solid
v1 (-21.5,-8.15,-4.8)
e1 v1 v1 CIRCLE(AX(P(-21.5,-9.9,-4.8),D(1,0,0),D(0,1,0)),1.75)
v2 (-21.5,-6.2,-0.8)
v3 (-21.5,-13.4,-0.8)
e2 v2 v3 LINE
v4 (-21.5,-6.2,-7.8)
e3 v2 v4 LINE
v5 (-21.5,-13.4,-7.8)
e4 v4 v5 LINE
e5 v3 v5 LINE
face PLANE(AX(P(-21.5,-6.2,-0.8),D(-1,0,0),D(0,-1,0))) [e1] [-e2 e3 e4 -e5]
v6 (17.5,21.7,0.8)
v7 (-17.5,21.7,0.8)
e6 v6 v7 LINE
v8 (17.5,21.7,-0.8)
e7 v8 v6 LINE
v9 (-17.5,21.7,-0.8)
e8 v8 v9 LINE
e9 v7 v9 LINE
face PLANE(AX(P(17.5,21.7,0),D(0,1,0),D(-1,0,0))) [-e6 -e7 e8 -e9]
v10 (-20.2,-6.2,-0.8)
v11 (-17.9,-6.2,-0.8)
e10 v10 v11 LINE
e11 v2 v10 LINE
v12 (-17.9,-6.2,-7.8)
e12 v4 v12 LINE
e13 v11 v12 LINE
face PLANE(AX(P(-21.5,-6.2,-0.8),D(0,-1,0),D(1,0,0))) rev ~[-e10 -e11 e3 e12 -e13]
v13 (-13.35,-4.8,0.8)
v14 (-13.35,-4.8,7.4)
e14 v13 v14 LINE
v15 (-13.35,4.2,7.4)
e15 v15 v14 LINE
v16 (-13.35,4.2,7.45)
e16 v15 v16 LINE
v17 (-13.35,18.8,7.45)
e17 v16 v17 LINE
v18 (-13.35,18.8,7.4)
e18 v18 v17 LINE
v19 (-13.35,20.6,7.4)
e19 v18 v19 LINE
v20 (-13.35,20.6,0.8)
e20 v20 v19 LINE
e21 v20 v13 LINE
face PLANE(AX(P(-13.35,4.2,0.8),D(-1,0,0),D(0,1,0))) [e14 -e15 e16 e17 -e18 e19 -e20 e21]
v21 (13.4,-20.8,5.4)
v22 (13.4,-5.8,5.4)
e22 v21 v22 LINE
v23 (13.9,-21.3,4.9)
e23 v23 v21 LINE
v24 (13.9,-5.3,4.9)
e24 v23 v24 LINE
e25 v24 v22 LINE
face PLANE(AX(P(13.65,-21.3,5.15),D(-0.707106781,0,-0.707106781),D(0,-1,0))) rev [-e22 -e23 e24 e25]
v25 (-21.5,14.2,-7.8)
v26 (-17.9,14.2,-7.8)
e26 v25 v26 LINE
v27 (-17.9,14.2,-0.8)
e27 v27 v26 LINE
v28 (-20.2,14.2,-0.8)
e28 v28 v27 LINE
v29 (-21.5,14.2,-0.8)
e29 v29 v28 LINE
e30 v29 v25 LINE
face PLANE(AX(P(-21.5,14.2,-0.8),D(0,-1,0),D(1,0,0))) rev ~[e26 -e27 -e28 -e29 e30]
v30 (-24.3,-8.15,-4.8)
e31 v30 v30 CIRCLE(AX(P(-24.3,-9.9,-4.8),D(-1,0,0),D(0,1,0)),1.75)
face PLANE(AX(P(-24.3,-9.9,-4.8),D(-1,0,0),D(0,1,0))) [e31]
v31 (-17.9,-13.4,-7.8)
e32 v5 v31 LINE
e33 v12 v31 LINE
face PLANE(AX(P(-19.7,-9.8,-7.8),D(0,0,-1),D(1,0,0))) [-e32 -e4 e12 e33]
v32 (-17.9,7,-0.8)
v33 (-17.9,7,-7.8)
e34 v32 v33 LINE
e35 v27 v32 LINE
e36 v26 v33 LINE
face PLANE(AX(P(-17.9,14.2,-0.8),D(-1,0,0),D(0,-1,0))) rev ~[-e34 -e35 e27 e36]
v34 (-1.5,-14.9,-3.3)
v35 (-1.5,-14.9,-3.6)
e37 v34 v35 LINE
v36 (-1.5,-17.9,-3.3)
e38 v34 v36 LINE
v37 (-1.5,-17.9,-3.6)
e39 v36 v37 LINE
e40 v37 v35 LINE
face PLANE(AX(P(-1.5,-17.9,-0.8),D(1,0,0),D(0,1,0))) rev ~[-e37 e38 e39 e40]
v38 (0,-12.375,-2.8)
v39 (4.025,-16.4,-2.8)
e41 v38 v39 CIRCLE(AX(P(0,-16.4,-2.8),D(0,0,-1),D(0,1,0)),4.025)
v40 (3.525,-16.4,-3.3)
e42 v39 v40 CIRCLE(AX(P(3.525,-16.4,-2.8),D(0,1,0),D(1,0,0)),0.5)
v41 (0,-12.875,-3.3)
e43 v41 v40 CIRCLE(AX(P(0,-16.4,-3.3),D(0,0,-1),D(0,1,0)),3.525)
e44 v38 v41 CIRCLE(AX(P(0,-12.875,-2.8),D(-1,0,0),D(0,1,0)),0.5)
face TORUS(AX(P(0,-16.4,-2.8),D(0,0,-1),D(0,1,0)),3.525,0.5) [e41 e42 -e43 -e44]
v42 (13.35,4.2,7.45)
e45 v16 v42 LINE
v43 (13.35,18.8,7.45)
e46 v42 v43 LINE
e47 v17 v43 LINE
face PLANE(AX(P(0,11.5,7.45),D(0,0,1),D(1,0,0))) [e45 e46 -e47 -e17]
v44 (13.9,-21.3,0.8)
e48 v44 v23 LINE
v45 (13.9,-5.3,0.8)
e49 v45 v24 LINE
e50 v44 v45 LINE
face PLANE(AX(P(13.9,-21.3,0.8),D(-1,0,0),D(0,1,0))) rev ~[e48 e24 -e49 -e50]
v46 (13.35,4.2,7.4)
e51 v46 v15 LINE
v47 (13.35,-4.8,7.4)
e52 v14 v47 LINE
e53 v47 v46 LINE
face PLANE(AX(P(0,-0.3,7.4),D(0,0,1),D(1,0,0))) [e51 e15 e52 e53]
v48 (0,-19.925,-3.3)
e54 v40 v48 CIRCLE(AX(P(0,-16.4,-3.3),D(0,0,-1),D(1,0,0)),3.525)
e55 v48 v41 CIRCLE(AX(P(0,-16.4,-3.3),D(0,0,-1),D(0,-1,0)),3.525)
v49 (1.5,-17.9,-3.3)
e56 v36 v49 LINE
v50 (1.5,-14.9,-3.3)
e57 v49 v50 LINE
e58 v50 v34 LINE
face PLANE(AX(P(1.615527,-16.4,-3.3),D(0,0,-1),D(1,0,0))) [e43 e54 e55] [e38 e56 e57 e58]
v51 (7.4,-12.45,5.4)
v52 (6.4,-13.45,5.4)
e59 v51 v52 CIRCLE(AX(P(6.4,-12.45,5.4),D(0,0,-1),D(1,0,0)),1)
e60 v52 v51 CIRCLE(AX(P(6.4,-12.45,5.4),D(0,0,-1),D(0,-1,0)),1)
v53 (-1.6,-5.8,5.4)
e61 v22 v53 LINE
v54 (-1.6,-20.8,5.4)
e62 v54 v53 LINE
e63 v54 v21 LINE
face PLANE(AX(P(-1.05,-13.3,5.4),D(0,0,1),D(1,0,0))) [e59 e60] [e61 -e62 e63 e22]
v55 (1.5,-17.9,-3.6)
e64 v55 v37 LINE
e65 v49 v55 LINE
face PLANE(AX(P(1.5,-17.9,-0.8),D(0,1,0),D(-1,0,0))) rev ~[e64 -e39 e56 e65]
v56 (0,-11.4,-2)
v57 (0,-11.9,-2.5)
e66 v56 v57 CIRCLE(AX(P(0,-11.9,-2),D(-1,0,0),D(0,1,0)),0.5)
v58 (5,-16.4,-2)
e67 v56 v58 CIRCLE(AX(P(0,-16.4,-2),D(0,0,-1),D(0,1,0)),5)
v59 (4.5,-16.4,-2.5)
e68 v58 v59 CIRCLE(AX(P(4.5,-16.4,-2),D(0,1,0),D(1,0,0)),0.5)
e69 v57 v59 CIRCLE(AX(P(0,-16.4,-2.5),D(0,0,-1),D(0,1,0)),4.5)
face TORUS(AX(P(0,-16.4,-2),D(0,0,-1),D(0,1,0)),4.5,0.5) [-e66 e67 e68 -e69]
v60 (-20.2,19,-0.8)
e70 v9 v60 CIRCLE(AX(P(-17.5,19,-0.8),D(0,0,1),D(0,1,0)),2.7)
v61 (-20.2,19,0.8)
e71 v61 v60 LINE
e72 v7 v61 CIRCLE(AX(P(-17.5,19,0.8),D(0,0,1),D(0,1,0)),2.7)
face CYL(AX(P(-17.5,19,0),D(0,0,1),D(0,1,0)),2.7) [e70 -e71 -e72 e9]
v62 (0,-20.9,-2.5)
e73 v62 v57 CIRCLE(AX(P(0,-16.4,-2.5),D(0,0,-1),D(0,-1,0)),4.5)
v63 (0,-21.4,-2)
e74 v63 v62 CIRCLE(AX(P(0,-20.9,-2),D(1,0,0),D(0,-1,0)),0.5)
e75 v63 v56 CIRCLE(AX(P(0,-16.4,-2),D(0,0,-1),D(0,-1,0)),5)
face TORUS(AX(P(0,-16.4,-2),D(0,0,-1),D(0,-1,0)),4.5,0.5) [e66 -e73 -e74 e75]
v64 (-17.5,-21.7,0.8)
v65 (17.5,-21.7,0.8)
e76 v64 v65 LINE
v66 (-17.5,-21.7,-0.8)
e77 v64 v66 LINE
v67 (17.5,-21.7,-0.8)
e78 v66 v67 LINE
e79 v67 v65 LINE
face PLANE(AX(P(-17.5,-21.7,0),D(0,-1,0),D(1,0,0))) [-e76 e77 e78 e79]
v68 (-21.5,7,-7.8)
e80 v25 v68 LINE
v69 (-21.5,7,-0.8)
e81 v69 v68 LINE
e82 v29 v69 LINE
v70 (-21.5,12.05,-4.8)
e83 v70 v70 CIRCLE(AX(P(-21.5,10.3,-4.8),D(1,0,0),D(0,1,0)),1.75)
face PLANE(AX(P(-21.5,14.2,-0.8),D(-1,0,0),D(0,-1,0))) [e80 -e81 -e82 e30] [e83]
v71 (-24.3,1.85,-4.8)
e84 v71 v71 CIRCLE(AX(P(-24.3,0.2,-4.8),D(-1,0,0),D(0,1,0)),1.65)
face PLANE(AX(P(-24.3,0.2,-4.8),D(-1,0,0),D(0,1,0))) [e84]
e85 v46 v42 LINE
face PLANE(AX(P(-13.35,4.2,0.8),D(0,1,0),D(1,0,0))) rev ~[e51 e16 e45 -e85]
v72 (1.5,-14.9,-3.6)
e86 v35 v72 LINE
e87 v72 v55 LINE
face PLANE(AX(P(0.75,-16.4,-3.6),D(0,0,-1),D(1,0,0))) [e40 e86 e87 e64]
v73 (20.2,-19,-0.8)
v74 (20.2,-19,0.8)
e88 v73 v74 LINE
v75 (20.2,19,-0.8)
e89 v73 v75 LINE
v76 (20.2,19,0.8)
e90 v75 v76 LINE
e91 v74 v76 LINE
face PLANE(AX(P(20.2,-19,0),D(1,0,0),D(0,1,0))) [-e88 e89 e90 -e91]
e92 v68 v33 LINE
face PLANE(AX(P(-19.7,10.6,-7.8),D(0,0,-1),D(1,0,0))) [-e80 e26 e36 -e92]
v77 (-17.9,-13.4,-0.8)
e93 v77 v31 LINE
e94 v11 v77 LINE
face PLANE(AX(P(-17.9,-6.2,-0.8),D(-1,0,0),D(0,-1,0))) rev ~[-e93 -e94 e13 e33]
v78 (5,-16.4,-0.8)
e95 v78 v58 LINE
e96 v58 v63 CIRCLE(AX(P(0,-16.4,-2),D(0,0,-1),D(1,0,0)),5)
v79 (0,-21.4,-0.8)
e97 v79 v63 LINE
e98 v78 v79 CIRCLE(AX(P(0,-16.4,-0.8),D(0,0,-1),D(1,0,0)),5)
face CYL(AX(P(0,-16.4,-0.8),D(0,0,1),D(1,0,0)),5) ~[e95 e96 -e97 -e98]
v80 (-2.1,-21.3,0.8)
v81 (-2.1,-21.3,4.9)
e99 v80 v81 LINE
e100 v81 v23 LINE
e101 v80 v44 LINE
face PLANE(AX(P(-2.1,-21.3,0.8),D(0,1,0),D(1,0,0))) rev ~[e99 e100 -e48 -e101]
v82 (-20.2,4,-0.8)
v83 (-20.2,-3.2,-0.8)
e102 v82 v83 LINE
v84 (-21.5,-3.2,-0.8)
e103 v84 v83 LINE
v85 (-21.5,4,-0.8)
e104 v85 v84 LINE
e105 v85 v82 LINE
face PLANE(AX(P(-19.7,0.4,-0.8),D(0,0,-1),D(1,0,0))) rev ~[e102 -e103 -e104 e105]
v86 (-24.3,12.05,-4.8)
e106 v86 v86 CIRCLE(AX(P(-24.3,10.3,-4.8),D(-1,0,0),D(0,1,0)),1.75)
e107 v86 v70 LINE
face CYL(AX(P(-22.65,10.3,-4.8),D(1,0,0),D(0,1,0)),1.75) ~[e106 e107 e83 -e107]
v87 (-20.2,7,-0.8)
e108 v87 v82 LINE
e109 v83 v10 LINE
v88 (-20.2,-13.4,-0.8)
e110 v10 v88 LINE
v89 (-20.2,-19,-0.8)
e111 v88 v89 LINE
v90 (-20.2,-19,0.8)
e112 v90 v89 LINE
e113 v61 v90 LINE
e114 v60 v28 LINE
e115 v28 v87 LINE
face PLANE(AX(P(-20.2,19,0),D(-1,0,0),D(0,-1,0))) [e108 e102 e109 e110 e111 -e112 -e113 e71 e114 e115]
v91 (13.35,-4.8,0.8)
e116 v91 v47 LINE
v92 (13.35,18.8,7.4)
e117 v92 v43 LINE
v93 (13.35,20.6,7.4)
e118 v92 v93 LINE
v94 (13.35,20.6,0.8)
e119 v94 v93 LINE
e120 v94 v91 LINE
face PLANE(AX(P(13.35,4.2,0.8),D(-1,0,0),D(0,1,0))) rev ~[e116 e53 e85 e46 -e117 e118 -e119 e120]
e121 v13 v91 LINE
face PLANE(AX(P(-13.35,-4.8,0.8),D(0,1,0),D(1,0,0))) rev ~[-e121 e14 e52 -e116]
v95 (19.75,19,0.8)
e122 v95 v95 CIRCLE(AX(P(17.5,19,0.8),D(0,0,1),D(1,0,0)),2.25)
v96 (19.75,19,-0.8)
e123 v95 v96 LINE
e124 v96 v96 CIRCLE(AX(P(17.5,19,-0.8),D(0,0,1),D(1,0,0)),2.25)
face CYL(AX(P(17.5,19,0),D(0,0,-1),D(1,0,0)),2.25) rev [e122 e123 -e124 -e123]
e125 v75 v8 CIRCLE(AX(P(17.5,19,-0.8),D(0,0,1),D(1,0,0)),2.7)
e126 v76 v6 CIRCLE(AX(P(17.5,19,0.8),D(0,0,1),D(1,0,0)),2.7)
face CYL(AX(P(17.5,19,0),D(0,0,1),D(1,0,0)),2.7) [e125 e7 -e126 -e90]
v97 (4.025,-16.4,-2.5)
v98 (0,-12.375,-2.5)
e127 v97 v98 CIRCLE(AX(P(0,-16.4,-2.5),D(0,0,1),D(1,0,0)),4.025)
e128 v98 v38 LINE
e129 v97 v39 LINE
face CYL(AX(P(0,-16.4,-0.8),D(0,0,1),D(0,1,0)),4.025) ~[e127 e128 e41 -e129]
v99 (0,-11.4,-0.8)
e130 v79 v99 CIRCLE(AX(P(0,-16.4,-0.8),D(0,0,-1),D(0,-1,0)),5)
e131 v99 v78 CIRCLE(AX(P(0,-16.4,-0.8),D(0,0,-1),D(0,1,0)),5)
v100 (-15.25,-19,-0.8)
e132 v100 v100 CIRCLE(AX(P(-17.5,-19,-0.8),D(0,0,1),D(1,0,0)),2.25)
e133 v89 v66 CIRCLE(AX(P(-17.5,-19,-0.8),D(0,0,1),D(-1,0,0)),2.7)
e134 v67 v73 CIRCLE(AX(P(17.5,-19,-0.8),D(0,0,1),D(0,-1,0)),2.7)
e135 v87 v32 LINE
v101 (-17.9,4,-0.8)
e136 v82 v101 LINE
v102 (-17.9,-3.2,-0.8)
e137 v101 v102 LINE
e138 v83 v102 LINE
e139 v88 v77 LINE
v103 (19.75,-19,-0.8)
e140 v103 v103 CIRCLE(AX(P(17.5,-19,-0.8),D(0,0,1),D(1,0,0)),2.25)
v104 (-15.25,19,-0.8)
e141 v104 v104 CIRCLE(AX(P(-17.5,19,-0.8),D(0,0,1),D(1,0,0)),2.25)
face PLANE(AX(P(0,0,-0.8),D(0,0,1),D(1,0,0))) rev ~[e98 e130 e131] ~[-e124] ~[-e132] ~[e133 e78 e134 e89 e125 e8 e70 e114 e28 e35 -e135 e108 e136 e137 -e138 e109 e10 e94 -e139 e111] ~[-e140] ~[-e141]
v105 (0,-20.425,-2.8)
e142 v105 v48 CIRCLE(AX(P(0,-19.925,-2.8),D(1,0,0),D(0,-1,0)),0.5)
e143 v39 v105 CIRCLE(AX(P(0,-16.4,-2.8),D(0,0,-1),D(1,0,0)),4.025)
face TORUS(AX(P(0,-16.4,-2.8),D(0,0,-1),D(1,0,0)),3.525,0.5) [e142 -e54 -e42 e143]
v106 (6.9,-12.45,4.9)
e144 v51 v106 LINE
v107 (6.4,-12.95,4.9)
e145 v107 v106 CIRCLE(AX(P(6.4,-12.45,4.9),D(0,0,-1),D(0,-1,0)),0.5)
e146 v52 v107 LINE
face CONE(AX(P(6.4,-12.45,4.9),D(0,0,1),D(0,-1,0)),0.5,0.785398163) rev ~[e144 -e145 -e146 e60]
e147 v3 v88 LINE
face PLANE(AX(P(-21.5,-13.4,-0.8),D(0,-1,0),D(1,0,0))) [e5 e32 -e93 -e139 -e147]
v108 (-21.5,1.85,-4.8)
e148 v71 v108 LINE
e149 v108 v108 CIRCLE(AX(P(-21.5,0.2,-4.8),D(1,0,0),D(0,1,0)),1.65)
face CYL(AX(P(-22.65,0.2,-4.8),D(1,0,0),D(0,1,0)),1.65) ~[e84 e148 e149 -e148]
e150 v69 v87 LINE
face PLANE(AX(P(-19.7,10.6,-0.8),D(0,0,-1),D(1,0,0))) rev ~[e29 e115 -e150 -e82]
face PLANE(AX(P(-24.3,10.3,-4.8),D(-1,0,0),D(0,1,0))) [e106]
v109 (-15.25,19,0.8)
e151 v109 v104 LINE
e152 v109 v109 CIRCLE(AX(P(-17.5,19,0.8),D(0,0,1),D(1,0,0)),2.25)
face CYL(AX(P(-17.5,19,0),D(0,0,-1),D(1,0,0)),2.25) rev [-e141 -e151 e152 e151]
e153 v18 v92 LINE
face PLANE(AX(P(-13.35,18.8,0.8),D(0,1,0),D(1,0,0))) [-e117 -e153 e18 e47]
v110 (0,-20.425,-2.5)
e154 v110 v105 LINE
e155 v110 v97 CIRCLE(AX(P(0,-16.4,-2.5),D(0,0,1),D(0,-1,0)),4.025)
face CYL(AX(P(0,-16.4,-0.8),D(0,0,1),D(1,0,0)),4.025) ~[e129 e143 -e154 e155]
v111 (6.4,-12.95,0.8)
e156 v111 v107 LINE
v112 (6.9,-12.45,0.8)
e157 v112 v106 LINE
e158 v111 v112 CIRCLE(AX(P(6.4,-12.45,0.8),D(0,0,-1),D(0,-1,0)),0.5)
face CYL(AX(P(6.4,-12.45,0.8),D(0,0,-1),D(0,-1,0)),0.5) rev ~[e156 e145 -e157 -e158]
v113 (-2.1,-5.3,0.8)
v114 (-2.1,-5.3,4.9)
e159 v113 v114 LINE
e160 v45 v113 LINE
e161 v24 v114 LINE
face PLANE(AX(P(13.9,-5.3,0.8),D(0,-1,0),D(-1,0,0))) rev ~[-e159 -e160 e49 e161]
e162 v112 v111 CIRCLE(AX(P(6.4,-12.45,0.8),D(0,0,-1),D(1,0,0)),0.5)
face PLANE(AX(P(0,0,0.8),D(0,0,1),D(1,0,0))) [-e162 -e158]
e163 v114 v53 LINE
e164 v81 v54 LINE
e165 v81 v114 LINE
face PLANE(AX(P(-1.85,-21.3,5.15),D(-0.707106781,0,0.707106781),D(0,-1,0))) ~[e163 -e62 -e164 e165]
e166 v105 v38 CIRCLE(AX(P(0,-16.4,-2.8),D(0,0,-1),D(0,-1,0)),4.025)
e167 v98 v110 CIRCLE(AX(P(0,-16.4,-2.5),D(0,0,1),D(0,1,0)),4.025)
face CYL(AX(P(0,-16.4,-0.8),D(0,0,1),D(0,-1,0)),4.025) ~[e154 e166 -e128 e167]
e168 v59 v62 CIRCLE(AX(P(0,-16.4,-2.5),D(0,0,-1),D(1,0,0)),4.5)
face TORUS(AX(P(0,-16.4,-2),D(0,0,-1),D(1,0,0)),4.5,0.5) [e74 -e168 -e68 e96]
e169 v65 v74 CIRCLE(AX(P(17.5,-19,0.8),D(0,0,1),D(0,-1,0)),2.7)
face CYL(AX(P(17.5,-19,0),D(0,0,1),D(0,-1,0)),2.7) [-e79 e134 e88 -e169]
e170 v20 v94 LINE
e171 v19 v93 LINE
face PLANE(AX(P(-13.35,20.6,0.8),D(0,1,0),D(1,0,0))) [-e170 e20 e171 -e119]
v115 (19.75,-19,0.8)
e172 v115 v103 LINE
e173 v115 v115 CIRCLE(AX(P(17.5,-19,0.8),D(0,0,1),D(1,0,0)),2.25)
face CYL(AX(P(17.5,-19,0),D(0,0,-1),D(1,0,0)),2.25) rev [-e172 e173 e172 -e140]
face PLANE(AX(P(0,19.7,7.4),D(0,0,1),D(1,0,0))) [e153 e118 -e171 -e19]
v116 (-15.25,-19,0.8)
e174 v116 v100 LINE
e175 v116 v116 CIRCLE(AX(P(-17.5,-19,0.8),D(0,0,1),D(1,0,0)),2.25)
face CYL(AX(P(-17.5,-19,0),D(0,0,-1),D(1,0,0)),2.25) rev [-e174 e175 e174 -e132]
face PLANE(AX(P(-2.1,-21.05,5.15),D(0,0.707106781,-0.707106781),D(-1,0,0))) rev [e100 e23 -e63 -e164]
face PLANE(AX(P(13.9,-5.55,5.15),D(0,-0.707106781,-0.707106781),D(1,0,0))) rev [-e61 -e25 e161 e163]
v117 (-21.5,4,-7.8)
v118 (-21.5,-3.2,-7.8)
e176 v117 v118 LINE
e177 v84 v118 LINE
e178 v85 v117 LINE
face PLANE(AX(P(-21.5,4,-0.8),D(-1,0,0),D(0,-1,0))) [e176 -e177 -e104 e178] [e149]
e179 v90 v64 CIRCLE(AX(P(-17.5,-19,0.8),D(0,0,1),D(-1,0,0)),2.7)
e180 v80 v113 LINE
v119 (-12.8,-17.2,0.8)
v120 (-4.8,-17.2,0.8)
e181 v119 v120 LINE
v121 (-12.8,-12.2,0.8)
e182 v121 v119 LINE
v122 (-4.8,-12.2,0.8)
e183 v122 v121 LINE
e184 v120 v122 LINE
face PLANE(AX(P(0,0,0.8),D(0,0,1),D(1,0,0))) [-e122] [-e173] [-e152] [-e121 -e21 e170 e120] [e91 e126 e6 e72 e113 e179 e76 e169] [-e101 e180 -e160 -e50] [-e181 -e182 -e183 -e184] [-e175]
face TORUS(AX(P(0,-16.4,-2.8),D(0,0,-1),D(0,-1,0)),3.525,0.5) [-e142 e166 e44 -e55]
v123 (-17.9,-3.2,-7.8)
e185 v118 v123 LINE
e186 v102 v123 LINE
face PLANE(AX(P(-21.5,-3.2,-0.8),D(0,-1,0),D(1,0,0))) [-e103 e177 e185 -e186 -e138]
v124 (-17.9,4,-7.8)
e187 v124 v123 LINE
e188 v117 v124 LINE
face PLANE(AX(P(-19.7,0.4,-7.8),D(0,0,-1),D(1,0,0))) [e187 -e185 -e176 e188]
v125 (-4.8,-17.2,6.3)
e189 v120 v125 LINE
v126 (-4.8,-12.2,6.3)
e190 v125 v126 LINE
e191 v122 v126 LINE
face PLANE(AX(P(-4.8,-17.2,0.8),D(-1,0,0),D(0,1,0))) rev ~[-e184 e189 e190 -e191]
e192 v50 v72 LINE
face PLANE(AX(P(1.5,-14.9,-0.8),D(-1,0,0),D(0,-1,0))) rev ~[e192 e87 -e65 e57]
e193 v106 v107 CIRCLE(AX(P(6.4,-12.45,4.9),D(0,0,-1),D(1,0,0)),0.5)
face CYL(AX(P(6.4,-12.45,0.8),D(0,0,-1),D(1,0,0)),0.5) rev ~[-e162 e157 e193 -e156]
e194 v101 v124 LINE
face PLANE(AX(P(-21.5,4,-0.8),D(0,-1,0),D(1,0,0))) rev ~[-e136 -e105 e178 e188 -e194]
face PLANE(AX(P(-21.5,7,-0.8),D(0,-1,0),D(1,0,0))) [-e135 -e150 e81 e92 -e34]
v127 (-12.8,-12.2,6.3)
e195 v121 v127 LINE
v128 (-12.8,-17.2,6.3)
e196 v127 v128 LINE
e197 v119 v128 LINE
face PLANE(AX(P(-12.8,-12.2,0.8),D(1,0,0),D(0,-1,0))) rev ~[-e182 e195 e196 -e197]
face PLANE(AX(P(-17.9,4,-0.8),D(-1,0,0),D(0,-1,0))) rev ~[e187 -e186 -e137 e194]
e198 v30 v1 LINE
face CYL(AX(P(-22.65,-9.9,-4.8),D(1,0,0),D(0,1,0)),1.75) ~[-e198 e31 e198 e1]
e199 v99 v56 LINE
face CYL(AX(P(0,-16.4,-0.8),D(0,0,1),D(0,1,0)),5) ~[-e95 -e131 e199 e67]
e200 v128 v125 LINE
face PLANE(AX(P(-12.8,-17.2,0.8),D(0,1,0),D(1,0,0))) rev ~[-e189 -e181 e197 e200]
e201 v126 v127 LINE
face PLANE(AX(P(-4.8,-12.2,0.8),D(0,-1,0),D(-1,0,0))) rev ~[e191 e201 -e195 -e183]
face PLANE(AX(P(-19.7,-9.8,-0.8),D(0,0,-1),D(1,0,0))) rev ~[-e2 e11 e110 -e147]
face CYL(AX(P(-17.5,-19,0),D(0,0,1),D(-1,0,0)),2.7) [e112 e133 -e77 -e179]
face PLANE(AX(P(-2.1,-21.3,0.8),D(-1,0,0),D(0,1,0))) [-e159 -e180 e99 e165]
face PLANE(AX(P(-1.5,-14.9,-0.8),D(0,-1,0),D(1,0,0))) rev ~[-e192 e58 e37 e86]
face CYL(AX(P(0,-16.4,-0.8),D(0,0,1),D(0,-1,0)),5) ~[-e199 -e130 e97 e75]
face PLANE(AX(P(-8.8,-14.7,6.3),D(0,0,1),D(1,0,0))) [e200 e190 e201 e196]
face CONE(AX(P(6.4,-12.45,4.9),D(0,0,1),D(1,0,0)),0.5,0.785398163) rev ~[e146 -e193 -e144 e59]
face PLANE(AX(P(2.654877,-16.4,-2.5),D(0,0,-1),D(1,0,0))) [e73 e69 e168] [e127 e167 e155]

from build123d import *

# Parameters (mm, degrees)
F0_R      = 2.25
F1_DEPTH  = 0.8
F3_W      = 2.1
F3_H      = 16
F4_DEPTH  = 4.6
F5_DEPTH  = 5.5
F3_W_2    = 26.7
F3_H_2    = 1.8
F6_DEPTH  = 6.6
F3_H_3    = 14.6
F7_DEPTH  = 6.65
F9_W      = 3.6
F9_H      = 7.2
F10_DEPTH = 7
F12_W     = 3.3
F12_H     = 1.75
F12_H_2   = 1.65
F16_DEPTH = 2.5
F17_DEPTH = 1.7
F18_R     = 0.5
F19_SIZE  = 0.5
F20_DEPTH = 2.8


with BuildPart() as f1:
    # F0 (on Top) → F1 (new body, symmetric)
    with BuildSketch(Plane.XY):
        with BuildLine():
            Line((-17.5, -21.7), (17.5, -21.7))
            ThreePointArc((17.5, -21.7), (19.4091883092, -20.9091883092), (20.2, -19))
            Line((20.2, -19), (20.2, 19))
            ThreePointArc((20.2, 19), (19.4091883092, 20.9091883092), (17.5, 21.7))
            Line((17.5, 21.7), (-17.5, 21.7))
            ThreePointArc((-17.5, 21.7), (-19.4091883092, 20.9091883092), (-20.2, 19))
            Line((-20.2, 19), (-20.2, -19))
            ThreePointArc((-20.2, -19), (-19.4091883092, -20.9091883092), (-17.5, -21.7))
        make_face()
        with Locations((-17.5, -19)):
            Circle(F0_R, mode=Mode.SUBTRACT)
        with Locations((17.5, -19)):
            Circle(F0_R, mode=Mode.SUBTRACT)
        with Locations((-17.5, 19)):
            Circle(F0_R, mode=Mode.SUBTRACT)
        with Locations((17.5, 19)):
            Circle(F0_R, mode=Mode.SUBTRACT)
    extrude(amount=F1_DEPTH, both=True)

    # F3 (on offset) → F4 (join)
    with BuildSketch(Plane.XY.offset(0.8)):
        with Locations((-1.05, -13.3)):
            Rectangle(F3_W, F3_H)
        Polygon((0, -5.3), (0, -21.3), (5.9, -21.3), (13.9, -21.3), (13.9, -5.3), align=None)
        with BuildLine():
            ThreePointArc((6.9, -12.45), (6.7535533906, -12.8035533906), (6.4, -12.95))
            ThreePointArc((6.4, -12.95), (6.0464466094, -12.0964466094), (6.9, -12.45))
        make_face(mode=Mode.SUBTRACT)
    extrude(amount=F4_DEPTH)

    # F3 (on offset) → F5 (join)
    with BuildSketch(Plane.XY.offset(0.8)):
        Polygon((-8.8, -17.2), (-4.8, -17.2), (-4.8, -12.2), (-12.8, -12.2), (-12.8, -17.2), align=None)
    extrude(amount=F5_DEPTH)

    # F3 (on offset) → F6 (join)
    with BuildSketch(Plane.XY.offset(0.8)):
        with Locations((0, 19.7)):
            Rectangle(F3_W_2, F3_H_2)
        Polygon((-13.35, 4.2), (-13.35, -4.8), (0, -4.8), (13.35, -4.8), (13.35, 4.2), align=None)
    extrude(amount=F6_DEPTH)

    # F3 (on offset) → F7 (join)
    with BuildSketch(Plane.XY.offset(0.8)):
        with Locations((0, 11.5)):
            Rectangle(F3_W_2, F3_H_3)
    extrude(amount=F7_DEPTH)

    # F9 (on offset) → F10 (join)
    with BuildSketch(Plane(origin=(0, 0, -0.8), x_dir=(1, 0, 0), z_dir=(0, 0, -1))):
        with Locations((-19.7, -10.6)):
            Rectangle(F9_W, F9_H)
        with Locations((-19.7, -0.4)):
            Rectangle(F9_W, F9_H)
        with Locations((-19.7, 9.8)):
            Rectangle(F9_W, F9_H)
    extrude(amount=F10_DEPTH)

    # F12 (on offset) → F13 (revolve)
    with BuildSketch(Plane(origin=(0, 0, -4.8), x_dir=(1, 0, 0), z_dir=(0, 0, -1))):
        with Locations((-22.65, 9.025)):
            Rectangle(F12_W, F12_H)
    revolve(axis=Axis((-22.65, -9.9, -4.8), (-1, 0, 0)))

    # F12 (on offset) → F14 (revolve)
    with BuildSketch(Plane(origin=(0, 0, -4.8), x_dir=(1, 0, 0), z_dir=(0, 0, -1))):
        with Locations((-22.65, -1.025)):
            Rectangle(F12_W, F12_H_2)
    revolve(axis=Axis((-22.65, 0.2, -4.8), (-1, 0, 0)))

    # F12 (on offset) → F15 (revolve)
    with BuildSketch(Plane(origin=(0, 0, -4.8), x_dir=(1, 0, 0), z_dir=(0, 0, -1))):
        with Locations((-22.65, -11.175)):
            Rectangle(F12_W, F12_H)
    revolve(axis=Axis((-22.65, 10.3, -4.8), (-1, 0, 0)))

    # F9 (on offset) → F16 (join)
    with BuildSketch(Plane(origin=(0, 0, -0.8), x_dir=(1, 0, 0), z_dir=(0, 0, -1))):
        with BuildLine():
            Line((0, 14.9), (0, 12.375))
            ThreePointArc((0, 12.375), (2.8461047943, 13.5538952057), (4.025, 16.4))
            ThreePointArc((4.025, 16.4), (2.8461047943, 19.2461047943), (0, 20.425))
            Line((0, 20.425), (0, 17.9))
            Line((0, 17.9), (1.5, 17.9))
            Line((1.5, 17.9), (1.5, 14.9))
            Line((1.5, 14.9), (0, 14.9))
        make_face()
        with BuildLine():
            ThreePointArc((0, 20.425), (-4.025, 16.4), (0, 12.375))
            Line((0, 12.375), (0, 14.9))
            Line((0, 14.9), (-1.5, 14.9))
            Line((-1.5, 14.9), (-1.5, 17.9))
            Line((-1.5, 17.9), (0, 17.9))
            Line((0, 17.9), (0, 20.425))
        make_face()
    extrude(amount=F16_DEPTH)

    # F9 (on offset) → F17 (join)
    with BuildSketch(Plane(origin=(0, 0, -0.8), x_dir=(1, 0, 0), z_dir=(0, 0, -1))):
        with BuildLine():
            Line((0, 12.375), (0, 11.4))
            ThreePointArc((0, 11.4), (3.5355339059, 12.8644660941), (5, 16.4))
            ThreePointArc((5, 16.4), (3.5355339059, 19.9355339059), (0, 21.4))
            Line((0, 21.4), (0, 20.425))
            ThreePointArc((0, 20.425), (2.8461047943, 19.2461047943), (4.025, 16.4))
            ThreePointArc((4.025, 16.4), (2.8461047943, 13.5538952057), (0, 12.375))
        make_face()
        with BuildLine():
            ThreePointArc((0, 21.4), (-5, 16.4), (0, 11.4))
            Line((0, 11.4), (0, 12.375))
            ThreePointArc((0, 12.375), (-4.025, 16.4), (0, 20.425))
            Line((0, 20.425), (0, 21.4))
        make_face()
    extrude(amount=F17_DEPTH)

    # F18
    f18_edges = [f1.edges().sort_by_distance(p)[0] for p in [
        (-5, -16.4, -2.5),
        (-4.025, -16.4, -3.3),
    ]]
    fillet(f18_edges, radius=F18_R)

    # F19
    f19_edges = [f1.edges().sort_by_distance(p)[0] for p in [
        (5.9, -21.3, 5.4),
        (13.9, -13.3, 5.4),
        (5.9, -5.3, 5.4),
        (-2.1, -13.3, 5.4),
        (5.9, -12.45, 5.4),
    ]]
    chamfer(f19_edges, length=F19_SIZE)

    # F9 (on offset) → F20 (join)
    with BuildSketch(Plane(origin=(0, 0, -0.8), x_dir=(1, 0, 0), z_dir=(0, 0, -1))):
        Polygon((0, 16.4), (0, 14.9), (1.5, 14.9), (1.5, 17.9), (0, 17.9), align=None)
        Polygon((-1.5, 14.9), (0, 14.9), (0, 16.4), (0, 17.9), (-1.5, 17.9), align=None)
    extrude(amount=F20_DEPTH)


solid = f1.part
